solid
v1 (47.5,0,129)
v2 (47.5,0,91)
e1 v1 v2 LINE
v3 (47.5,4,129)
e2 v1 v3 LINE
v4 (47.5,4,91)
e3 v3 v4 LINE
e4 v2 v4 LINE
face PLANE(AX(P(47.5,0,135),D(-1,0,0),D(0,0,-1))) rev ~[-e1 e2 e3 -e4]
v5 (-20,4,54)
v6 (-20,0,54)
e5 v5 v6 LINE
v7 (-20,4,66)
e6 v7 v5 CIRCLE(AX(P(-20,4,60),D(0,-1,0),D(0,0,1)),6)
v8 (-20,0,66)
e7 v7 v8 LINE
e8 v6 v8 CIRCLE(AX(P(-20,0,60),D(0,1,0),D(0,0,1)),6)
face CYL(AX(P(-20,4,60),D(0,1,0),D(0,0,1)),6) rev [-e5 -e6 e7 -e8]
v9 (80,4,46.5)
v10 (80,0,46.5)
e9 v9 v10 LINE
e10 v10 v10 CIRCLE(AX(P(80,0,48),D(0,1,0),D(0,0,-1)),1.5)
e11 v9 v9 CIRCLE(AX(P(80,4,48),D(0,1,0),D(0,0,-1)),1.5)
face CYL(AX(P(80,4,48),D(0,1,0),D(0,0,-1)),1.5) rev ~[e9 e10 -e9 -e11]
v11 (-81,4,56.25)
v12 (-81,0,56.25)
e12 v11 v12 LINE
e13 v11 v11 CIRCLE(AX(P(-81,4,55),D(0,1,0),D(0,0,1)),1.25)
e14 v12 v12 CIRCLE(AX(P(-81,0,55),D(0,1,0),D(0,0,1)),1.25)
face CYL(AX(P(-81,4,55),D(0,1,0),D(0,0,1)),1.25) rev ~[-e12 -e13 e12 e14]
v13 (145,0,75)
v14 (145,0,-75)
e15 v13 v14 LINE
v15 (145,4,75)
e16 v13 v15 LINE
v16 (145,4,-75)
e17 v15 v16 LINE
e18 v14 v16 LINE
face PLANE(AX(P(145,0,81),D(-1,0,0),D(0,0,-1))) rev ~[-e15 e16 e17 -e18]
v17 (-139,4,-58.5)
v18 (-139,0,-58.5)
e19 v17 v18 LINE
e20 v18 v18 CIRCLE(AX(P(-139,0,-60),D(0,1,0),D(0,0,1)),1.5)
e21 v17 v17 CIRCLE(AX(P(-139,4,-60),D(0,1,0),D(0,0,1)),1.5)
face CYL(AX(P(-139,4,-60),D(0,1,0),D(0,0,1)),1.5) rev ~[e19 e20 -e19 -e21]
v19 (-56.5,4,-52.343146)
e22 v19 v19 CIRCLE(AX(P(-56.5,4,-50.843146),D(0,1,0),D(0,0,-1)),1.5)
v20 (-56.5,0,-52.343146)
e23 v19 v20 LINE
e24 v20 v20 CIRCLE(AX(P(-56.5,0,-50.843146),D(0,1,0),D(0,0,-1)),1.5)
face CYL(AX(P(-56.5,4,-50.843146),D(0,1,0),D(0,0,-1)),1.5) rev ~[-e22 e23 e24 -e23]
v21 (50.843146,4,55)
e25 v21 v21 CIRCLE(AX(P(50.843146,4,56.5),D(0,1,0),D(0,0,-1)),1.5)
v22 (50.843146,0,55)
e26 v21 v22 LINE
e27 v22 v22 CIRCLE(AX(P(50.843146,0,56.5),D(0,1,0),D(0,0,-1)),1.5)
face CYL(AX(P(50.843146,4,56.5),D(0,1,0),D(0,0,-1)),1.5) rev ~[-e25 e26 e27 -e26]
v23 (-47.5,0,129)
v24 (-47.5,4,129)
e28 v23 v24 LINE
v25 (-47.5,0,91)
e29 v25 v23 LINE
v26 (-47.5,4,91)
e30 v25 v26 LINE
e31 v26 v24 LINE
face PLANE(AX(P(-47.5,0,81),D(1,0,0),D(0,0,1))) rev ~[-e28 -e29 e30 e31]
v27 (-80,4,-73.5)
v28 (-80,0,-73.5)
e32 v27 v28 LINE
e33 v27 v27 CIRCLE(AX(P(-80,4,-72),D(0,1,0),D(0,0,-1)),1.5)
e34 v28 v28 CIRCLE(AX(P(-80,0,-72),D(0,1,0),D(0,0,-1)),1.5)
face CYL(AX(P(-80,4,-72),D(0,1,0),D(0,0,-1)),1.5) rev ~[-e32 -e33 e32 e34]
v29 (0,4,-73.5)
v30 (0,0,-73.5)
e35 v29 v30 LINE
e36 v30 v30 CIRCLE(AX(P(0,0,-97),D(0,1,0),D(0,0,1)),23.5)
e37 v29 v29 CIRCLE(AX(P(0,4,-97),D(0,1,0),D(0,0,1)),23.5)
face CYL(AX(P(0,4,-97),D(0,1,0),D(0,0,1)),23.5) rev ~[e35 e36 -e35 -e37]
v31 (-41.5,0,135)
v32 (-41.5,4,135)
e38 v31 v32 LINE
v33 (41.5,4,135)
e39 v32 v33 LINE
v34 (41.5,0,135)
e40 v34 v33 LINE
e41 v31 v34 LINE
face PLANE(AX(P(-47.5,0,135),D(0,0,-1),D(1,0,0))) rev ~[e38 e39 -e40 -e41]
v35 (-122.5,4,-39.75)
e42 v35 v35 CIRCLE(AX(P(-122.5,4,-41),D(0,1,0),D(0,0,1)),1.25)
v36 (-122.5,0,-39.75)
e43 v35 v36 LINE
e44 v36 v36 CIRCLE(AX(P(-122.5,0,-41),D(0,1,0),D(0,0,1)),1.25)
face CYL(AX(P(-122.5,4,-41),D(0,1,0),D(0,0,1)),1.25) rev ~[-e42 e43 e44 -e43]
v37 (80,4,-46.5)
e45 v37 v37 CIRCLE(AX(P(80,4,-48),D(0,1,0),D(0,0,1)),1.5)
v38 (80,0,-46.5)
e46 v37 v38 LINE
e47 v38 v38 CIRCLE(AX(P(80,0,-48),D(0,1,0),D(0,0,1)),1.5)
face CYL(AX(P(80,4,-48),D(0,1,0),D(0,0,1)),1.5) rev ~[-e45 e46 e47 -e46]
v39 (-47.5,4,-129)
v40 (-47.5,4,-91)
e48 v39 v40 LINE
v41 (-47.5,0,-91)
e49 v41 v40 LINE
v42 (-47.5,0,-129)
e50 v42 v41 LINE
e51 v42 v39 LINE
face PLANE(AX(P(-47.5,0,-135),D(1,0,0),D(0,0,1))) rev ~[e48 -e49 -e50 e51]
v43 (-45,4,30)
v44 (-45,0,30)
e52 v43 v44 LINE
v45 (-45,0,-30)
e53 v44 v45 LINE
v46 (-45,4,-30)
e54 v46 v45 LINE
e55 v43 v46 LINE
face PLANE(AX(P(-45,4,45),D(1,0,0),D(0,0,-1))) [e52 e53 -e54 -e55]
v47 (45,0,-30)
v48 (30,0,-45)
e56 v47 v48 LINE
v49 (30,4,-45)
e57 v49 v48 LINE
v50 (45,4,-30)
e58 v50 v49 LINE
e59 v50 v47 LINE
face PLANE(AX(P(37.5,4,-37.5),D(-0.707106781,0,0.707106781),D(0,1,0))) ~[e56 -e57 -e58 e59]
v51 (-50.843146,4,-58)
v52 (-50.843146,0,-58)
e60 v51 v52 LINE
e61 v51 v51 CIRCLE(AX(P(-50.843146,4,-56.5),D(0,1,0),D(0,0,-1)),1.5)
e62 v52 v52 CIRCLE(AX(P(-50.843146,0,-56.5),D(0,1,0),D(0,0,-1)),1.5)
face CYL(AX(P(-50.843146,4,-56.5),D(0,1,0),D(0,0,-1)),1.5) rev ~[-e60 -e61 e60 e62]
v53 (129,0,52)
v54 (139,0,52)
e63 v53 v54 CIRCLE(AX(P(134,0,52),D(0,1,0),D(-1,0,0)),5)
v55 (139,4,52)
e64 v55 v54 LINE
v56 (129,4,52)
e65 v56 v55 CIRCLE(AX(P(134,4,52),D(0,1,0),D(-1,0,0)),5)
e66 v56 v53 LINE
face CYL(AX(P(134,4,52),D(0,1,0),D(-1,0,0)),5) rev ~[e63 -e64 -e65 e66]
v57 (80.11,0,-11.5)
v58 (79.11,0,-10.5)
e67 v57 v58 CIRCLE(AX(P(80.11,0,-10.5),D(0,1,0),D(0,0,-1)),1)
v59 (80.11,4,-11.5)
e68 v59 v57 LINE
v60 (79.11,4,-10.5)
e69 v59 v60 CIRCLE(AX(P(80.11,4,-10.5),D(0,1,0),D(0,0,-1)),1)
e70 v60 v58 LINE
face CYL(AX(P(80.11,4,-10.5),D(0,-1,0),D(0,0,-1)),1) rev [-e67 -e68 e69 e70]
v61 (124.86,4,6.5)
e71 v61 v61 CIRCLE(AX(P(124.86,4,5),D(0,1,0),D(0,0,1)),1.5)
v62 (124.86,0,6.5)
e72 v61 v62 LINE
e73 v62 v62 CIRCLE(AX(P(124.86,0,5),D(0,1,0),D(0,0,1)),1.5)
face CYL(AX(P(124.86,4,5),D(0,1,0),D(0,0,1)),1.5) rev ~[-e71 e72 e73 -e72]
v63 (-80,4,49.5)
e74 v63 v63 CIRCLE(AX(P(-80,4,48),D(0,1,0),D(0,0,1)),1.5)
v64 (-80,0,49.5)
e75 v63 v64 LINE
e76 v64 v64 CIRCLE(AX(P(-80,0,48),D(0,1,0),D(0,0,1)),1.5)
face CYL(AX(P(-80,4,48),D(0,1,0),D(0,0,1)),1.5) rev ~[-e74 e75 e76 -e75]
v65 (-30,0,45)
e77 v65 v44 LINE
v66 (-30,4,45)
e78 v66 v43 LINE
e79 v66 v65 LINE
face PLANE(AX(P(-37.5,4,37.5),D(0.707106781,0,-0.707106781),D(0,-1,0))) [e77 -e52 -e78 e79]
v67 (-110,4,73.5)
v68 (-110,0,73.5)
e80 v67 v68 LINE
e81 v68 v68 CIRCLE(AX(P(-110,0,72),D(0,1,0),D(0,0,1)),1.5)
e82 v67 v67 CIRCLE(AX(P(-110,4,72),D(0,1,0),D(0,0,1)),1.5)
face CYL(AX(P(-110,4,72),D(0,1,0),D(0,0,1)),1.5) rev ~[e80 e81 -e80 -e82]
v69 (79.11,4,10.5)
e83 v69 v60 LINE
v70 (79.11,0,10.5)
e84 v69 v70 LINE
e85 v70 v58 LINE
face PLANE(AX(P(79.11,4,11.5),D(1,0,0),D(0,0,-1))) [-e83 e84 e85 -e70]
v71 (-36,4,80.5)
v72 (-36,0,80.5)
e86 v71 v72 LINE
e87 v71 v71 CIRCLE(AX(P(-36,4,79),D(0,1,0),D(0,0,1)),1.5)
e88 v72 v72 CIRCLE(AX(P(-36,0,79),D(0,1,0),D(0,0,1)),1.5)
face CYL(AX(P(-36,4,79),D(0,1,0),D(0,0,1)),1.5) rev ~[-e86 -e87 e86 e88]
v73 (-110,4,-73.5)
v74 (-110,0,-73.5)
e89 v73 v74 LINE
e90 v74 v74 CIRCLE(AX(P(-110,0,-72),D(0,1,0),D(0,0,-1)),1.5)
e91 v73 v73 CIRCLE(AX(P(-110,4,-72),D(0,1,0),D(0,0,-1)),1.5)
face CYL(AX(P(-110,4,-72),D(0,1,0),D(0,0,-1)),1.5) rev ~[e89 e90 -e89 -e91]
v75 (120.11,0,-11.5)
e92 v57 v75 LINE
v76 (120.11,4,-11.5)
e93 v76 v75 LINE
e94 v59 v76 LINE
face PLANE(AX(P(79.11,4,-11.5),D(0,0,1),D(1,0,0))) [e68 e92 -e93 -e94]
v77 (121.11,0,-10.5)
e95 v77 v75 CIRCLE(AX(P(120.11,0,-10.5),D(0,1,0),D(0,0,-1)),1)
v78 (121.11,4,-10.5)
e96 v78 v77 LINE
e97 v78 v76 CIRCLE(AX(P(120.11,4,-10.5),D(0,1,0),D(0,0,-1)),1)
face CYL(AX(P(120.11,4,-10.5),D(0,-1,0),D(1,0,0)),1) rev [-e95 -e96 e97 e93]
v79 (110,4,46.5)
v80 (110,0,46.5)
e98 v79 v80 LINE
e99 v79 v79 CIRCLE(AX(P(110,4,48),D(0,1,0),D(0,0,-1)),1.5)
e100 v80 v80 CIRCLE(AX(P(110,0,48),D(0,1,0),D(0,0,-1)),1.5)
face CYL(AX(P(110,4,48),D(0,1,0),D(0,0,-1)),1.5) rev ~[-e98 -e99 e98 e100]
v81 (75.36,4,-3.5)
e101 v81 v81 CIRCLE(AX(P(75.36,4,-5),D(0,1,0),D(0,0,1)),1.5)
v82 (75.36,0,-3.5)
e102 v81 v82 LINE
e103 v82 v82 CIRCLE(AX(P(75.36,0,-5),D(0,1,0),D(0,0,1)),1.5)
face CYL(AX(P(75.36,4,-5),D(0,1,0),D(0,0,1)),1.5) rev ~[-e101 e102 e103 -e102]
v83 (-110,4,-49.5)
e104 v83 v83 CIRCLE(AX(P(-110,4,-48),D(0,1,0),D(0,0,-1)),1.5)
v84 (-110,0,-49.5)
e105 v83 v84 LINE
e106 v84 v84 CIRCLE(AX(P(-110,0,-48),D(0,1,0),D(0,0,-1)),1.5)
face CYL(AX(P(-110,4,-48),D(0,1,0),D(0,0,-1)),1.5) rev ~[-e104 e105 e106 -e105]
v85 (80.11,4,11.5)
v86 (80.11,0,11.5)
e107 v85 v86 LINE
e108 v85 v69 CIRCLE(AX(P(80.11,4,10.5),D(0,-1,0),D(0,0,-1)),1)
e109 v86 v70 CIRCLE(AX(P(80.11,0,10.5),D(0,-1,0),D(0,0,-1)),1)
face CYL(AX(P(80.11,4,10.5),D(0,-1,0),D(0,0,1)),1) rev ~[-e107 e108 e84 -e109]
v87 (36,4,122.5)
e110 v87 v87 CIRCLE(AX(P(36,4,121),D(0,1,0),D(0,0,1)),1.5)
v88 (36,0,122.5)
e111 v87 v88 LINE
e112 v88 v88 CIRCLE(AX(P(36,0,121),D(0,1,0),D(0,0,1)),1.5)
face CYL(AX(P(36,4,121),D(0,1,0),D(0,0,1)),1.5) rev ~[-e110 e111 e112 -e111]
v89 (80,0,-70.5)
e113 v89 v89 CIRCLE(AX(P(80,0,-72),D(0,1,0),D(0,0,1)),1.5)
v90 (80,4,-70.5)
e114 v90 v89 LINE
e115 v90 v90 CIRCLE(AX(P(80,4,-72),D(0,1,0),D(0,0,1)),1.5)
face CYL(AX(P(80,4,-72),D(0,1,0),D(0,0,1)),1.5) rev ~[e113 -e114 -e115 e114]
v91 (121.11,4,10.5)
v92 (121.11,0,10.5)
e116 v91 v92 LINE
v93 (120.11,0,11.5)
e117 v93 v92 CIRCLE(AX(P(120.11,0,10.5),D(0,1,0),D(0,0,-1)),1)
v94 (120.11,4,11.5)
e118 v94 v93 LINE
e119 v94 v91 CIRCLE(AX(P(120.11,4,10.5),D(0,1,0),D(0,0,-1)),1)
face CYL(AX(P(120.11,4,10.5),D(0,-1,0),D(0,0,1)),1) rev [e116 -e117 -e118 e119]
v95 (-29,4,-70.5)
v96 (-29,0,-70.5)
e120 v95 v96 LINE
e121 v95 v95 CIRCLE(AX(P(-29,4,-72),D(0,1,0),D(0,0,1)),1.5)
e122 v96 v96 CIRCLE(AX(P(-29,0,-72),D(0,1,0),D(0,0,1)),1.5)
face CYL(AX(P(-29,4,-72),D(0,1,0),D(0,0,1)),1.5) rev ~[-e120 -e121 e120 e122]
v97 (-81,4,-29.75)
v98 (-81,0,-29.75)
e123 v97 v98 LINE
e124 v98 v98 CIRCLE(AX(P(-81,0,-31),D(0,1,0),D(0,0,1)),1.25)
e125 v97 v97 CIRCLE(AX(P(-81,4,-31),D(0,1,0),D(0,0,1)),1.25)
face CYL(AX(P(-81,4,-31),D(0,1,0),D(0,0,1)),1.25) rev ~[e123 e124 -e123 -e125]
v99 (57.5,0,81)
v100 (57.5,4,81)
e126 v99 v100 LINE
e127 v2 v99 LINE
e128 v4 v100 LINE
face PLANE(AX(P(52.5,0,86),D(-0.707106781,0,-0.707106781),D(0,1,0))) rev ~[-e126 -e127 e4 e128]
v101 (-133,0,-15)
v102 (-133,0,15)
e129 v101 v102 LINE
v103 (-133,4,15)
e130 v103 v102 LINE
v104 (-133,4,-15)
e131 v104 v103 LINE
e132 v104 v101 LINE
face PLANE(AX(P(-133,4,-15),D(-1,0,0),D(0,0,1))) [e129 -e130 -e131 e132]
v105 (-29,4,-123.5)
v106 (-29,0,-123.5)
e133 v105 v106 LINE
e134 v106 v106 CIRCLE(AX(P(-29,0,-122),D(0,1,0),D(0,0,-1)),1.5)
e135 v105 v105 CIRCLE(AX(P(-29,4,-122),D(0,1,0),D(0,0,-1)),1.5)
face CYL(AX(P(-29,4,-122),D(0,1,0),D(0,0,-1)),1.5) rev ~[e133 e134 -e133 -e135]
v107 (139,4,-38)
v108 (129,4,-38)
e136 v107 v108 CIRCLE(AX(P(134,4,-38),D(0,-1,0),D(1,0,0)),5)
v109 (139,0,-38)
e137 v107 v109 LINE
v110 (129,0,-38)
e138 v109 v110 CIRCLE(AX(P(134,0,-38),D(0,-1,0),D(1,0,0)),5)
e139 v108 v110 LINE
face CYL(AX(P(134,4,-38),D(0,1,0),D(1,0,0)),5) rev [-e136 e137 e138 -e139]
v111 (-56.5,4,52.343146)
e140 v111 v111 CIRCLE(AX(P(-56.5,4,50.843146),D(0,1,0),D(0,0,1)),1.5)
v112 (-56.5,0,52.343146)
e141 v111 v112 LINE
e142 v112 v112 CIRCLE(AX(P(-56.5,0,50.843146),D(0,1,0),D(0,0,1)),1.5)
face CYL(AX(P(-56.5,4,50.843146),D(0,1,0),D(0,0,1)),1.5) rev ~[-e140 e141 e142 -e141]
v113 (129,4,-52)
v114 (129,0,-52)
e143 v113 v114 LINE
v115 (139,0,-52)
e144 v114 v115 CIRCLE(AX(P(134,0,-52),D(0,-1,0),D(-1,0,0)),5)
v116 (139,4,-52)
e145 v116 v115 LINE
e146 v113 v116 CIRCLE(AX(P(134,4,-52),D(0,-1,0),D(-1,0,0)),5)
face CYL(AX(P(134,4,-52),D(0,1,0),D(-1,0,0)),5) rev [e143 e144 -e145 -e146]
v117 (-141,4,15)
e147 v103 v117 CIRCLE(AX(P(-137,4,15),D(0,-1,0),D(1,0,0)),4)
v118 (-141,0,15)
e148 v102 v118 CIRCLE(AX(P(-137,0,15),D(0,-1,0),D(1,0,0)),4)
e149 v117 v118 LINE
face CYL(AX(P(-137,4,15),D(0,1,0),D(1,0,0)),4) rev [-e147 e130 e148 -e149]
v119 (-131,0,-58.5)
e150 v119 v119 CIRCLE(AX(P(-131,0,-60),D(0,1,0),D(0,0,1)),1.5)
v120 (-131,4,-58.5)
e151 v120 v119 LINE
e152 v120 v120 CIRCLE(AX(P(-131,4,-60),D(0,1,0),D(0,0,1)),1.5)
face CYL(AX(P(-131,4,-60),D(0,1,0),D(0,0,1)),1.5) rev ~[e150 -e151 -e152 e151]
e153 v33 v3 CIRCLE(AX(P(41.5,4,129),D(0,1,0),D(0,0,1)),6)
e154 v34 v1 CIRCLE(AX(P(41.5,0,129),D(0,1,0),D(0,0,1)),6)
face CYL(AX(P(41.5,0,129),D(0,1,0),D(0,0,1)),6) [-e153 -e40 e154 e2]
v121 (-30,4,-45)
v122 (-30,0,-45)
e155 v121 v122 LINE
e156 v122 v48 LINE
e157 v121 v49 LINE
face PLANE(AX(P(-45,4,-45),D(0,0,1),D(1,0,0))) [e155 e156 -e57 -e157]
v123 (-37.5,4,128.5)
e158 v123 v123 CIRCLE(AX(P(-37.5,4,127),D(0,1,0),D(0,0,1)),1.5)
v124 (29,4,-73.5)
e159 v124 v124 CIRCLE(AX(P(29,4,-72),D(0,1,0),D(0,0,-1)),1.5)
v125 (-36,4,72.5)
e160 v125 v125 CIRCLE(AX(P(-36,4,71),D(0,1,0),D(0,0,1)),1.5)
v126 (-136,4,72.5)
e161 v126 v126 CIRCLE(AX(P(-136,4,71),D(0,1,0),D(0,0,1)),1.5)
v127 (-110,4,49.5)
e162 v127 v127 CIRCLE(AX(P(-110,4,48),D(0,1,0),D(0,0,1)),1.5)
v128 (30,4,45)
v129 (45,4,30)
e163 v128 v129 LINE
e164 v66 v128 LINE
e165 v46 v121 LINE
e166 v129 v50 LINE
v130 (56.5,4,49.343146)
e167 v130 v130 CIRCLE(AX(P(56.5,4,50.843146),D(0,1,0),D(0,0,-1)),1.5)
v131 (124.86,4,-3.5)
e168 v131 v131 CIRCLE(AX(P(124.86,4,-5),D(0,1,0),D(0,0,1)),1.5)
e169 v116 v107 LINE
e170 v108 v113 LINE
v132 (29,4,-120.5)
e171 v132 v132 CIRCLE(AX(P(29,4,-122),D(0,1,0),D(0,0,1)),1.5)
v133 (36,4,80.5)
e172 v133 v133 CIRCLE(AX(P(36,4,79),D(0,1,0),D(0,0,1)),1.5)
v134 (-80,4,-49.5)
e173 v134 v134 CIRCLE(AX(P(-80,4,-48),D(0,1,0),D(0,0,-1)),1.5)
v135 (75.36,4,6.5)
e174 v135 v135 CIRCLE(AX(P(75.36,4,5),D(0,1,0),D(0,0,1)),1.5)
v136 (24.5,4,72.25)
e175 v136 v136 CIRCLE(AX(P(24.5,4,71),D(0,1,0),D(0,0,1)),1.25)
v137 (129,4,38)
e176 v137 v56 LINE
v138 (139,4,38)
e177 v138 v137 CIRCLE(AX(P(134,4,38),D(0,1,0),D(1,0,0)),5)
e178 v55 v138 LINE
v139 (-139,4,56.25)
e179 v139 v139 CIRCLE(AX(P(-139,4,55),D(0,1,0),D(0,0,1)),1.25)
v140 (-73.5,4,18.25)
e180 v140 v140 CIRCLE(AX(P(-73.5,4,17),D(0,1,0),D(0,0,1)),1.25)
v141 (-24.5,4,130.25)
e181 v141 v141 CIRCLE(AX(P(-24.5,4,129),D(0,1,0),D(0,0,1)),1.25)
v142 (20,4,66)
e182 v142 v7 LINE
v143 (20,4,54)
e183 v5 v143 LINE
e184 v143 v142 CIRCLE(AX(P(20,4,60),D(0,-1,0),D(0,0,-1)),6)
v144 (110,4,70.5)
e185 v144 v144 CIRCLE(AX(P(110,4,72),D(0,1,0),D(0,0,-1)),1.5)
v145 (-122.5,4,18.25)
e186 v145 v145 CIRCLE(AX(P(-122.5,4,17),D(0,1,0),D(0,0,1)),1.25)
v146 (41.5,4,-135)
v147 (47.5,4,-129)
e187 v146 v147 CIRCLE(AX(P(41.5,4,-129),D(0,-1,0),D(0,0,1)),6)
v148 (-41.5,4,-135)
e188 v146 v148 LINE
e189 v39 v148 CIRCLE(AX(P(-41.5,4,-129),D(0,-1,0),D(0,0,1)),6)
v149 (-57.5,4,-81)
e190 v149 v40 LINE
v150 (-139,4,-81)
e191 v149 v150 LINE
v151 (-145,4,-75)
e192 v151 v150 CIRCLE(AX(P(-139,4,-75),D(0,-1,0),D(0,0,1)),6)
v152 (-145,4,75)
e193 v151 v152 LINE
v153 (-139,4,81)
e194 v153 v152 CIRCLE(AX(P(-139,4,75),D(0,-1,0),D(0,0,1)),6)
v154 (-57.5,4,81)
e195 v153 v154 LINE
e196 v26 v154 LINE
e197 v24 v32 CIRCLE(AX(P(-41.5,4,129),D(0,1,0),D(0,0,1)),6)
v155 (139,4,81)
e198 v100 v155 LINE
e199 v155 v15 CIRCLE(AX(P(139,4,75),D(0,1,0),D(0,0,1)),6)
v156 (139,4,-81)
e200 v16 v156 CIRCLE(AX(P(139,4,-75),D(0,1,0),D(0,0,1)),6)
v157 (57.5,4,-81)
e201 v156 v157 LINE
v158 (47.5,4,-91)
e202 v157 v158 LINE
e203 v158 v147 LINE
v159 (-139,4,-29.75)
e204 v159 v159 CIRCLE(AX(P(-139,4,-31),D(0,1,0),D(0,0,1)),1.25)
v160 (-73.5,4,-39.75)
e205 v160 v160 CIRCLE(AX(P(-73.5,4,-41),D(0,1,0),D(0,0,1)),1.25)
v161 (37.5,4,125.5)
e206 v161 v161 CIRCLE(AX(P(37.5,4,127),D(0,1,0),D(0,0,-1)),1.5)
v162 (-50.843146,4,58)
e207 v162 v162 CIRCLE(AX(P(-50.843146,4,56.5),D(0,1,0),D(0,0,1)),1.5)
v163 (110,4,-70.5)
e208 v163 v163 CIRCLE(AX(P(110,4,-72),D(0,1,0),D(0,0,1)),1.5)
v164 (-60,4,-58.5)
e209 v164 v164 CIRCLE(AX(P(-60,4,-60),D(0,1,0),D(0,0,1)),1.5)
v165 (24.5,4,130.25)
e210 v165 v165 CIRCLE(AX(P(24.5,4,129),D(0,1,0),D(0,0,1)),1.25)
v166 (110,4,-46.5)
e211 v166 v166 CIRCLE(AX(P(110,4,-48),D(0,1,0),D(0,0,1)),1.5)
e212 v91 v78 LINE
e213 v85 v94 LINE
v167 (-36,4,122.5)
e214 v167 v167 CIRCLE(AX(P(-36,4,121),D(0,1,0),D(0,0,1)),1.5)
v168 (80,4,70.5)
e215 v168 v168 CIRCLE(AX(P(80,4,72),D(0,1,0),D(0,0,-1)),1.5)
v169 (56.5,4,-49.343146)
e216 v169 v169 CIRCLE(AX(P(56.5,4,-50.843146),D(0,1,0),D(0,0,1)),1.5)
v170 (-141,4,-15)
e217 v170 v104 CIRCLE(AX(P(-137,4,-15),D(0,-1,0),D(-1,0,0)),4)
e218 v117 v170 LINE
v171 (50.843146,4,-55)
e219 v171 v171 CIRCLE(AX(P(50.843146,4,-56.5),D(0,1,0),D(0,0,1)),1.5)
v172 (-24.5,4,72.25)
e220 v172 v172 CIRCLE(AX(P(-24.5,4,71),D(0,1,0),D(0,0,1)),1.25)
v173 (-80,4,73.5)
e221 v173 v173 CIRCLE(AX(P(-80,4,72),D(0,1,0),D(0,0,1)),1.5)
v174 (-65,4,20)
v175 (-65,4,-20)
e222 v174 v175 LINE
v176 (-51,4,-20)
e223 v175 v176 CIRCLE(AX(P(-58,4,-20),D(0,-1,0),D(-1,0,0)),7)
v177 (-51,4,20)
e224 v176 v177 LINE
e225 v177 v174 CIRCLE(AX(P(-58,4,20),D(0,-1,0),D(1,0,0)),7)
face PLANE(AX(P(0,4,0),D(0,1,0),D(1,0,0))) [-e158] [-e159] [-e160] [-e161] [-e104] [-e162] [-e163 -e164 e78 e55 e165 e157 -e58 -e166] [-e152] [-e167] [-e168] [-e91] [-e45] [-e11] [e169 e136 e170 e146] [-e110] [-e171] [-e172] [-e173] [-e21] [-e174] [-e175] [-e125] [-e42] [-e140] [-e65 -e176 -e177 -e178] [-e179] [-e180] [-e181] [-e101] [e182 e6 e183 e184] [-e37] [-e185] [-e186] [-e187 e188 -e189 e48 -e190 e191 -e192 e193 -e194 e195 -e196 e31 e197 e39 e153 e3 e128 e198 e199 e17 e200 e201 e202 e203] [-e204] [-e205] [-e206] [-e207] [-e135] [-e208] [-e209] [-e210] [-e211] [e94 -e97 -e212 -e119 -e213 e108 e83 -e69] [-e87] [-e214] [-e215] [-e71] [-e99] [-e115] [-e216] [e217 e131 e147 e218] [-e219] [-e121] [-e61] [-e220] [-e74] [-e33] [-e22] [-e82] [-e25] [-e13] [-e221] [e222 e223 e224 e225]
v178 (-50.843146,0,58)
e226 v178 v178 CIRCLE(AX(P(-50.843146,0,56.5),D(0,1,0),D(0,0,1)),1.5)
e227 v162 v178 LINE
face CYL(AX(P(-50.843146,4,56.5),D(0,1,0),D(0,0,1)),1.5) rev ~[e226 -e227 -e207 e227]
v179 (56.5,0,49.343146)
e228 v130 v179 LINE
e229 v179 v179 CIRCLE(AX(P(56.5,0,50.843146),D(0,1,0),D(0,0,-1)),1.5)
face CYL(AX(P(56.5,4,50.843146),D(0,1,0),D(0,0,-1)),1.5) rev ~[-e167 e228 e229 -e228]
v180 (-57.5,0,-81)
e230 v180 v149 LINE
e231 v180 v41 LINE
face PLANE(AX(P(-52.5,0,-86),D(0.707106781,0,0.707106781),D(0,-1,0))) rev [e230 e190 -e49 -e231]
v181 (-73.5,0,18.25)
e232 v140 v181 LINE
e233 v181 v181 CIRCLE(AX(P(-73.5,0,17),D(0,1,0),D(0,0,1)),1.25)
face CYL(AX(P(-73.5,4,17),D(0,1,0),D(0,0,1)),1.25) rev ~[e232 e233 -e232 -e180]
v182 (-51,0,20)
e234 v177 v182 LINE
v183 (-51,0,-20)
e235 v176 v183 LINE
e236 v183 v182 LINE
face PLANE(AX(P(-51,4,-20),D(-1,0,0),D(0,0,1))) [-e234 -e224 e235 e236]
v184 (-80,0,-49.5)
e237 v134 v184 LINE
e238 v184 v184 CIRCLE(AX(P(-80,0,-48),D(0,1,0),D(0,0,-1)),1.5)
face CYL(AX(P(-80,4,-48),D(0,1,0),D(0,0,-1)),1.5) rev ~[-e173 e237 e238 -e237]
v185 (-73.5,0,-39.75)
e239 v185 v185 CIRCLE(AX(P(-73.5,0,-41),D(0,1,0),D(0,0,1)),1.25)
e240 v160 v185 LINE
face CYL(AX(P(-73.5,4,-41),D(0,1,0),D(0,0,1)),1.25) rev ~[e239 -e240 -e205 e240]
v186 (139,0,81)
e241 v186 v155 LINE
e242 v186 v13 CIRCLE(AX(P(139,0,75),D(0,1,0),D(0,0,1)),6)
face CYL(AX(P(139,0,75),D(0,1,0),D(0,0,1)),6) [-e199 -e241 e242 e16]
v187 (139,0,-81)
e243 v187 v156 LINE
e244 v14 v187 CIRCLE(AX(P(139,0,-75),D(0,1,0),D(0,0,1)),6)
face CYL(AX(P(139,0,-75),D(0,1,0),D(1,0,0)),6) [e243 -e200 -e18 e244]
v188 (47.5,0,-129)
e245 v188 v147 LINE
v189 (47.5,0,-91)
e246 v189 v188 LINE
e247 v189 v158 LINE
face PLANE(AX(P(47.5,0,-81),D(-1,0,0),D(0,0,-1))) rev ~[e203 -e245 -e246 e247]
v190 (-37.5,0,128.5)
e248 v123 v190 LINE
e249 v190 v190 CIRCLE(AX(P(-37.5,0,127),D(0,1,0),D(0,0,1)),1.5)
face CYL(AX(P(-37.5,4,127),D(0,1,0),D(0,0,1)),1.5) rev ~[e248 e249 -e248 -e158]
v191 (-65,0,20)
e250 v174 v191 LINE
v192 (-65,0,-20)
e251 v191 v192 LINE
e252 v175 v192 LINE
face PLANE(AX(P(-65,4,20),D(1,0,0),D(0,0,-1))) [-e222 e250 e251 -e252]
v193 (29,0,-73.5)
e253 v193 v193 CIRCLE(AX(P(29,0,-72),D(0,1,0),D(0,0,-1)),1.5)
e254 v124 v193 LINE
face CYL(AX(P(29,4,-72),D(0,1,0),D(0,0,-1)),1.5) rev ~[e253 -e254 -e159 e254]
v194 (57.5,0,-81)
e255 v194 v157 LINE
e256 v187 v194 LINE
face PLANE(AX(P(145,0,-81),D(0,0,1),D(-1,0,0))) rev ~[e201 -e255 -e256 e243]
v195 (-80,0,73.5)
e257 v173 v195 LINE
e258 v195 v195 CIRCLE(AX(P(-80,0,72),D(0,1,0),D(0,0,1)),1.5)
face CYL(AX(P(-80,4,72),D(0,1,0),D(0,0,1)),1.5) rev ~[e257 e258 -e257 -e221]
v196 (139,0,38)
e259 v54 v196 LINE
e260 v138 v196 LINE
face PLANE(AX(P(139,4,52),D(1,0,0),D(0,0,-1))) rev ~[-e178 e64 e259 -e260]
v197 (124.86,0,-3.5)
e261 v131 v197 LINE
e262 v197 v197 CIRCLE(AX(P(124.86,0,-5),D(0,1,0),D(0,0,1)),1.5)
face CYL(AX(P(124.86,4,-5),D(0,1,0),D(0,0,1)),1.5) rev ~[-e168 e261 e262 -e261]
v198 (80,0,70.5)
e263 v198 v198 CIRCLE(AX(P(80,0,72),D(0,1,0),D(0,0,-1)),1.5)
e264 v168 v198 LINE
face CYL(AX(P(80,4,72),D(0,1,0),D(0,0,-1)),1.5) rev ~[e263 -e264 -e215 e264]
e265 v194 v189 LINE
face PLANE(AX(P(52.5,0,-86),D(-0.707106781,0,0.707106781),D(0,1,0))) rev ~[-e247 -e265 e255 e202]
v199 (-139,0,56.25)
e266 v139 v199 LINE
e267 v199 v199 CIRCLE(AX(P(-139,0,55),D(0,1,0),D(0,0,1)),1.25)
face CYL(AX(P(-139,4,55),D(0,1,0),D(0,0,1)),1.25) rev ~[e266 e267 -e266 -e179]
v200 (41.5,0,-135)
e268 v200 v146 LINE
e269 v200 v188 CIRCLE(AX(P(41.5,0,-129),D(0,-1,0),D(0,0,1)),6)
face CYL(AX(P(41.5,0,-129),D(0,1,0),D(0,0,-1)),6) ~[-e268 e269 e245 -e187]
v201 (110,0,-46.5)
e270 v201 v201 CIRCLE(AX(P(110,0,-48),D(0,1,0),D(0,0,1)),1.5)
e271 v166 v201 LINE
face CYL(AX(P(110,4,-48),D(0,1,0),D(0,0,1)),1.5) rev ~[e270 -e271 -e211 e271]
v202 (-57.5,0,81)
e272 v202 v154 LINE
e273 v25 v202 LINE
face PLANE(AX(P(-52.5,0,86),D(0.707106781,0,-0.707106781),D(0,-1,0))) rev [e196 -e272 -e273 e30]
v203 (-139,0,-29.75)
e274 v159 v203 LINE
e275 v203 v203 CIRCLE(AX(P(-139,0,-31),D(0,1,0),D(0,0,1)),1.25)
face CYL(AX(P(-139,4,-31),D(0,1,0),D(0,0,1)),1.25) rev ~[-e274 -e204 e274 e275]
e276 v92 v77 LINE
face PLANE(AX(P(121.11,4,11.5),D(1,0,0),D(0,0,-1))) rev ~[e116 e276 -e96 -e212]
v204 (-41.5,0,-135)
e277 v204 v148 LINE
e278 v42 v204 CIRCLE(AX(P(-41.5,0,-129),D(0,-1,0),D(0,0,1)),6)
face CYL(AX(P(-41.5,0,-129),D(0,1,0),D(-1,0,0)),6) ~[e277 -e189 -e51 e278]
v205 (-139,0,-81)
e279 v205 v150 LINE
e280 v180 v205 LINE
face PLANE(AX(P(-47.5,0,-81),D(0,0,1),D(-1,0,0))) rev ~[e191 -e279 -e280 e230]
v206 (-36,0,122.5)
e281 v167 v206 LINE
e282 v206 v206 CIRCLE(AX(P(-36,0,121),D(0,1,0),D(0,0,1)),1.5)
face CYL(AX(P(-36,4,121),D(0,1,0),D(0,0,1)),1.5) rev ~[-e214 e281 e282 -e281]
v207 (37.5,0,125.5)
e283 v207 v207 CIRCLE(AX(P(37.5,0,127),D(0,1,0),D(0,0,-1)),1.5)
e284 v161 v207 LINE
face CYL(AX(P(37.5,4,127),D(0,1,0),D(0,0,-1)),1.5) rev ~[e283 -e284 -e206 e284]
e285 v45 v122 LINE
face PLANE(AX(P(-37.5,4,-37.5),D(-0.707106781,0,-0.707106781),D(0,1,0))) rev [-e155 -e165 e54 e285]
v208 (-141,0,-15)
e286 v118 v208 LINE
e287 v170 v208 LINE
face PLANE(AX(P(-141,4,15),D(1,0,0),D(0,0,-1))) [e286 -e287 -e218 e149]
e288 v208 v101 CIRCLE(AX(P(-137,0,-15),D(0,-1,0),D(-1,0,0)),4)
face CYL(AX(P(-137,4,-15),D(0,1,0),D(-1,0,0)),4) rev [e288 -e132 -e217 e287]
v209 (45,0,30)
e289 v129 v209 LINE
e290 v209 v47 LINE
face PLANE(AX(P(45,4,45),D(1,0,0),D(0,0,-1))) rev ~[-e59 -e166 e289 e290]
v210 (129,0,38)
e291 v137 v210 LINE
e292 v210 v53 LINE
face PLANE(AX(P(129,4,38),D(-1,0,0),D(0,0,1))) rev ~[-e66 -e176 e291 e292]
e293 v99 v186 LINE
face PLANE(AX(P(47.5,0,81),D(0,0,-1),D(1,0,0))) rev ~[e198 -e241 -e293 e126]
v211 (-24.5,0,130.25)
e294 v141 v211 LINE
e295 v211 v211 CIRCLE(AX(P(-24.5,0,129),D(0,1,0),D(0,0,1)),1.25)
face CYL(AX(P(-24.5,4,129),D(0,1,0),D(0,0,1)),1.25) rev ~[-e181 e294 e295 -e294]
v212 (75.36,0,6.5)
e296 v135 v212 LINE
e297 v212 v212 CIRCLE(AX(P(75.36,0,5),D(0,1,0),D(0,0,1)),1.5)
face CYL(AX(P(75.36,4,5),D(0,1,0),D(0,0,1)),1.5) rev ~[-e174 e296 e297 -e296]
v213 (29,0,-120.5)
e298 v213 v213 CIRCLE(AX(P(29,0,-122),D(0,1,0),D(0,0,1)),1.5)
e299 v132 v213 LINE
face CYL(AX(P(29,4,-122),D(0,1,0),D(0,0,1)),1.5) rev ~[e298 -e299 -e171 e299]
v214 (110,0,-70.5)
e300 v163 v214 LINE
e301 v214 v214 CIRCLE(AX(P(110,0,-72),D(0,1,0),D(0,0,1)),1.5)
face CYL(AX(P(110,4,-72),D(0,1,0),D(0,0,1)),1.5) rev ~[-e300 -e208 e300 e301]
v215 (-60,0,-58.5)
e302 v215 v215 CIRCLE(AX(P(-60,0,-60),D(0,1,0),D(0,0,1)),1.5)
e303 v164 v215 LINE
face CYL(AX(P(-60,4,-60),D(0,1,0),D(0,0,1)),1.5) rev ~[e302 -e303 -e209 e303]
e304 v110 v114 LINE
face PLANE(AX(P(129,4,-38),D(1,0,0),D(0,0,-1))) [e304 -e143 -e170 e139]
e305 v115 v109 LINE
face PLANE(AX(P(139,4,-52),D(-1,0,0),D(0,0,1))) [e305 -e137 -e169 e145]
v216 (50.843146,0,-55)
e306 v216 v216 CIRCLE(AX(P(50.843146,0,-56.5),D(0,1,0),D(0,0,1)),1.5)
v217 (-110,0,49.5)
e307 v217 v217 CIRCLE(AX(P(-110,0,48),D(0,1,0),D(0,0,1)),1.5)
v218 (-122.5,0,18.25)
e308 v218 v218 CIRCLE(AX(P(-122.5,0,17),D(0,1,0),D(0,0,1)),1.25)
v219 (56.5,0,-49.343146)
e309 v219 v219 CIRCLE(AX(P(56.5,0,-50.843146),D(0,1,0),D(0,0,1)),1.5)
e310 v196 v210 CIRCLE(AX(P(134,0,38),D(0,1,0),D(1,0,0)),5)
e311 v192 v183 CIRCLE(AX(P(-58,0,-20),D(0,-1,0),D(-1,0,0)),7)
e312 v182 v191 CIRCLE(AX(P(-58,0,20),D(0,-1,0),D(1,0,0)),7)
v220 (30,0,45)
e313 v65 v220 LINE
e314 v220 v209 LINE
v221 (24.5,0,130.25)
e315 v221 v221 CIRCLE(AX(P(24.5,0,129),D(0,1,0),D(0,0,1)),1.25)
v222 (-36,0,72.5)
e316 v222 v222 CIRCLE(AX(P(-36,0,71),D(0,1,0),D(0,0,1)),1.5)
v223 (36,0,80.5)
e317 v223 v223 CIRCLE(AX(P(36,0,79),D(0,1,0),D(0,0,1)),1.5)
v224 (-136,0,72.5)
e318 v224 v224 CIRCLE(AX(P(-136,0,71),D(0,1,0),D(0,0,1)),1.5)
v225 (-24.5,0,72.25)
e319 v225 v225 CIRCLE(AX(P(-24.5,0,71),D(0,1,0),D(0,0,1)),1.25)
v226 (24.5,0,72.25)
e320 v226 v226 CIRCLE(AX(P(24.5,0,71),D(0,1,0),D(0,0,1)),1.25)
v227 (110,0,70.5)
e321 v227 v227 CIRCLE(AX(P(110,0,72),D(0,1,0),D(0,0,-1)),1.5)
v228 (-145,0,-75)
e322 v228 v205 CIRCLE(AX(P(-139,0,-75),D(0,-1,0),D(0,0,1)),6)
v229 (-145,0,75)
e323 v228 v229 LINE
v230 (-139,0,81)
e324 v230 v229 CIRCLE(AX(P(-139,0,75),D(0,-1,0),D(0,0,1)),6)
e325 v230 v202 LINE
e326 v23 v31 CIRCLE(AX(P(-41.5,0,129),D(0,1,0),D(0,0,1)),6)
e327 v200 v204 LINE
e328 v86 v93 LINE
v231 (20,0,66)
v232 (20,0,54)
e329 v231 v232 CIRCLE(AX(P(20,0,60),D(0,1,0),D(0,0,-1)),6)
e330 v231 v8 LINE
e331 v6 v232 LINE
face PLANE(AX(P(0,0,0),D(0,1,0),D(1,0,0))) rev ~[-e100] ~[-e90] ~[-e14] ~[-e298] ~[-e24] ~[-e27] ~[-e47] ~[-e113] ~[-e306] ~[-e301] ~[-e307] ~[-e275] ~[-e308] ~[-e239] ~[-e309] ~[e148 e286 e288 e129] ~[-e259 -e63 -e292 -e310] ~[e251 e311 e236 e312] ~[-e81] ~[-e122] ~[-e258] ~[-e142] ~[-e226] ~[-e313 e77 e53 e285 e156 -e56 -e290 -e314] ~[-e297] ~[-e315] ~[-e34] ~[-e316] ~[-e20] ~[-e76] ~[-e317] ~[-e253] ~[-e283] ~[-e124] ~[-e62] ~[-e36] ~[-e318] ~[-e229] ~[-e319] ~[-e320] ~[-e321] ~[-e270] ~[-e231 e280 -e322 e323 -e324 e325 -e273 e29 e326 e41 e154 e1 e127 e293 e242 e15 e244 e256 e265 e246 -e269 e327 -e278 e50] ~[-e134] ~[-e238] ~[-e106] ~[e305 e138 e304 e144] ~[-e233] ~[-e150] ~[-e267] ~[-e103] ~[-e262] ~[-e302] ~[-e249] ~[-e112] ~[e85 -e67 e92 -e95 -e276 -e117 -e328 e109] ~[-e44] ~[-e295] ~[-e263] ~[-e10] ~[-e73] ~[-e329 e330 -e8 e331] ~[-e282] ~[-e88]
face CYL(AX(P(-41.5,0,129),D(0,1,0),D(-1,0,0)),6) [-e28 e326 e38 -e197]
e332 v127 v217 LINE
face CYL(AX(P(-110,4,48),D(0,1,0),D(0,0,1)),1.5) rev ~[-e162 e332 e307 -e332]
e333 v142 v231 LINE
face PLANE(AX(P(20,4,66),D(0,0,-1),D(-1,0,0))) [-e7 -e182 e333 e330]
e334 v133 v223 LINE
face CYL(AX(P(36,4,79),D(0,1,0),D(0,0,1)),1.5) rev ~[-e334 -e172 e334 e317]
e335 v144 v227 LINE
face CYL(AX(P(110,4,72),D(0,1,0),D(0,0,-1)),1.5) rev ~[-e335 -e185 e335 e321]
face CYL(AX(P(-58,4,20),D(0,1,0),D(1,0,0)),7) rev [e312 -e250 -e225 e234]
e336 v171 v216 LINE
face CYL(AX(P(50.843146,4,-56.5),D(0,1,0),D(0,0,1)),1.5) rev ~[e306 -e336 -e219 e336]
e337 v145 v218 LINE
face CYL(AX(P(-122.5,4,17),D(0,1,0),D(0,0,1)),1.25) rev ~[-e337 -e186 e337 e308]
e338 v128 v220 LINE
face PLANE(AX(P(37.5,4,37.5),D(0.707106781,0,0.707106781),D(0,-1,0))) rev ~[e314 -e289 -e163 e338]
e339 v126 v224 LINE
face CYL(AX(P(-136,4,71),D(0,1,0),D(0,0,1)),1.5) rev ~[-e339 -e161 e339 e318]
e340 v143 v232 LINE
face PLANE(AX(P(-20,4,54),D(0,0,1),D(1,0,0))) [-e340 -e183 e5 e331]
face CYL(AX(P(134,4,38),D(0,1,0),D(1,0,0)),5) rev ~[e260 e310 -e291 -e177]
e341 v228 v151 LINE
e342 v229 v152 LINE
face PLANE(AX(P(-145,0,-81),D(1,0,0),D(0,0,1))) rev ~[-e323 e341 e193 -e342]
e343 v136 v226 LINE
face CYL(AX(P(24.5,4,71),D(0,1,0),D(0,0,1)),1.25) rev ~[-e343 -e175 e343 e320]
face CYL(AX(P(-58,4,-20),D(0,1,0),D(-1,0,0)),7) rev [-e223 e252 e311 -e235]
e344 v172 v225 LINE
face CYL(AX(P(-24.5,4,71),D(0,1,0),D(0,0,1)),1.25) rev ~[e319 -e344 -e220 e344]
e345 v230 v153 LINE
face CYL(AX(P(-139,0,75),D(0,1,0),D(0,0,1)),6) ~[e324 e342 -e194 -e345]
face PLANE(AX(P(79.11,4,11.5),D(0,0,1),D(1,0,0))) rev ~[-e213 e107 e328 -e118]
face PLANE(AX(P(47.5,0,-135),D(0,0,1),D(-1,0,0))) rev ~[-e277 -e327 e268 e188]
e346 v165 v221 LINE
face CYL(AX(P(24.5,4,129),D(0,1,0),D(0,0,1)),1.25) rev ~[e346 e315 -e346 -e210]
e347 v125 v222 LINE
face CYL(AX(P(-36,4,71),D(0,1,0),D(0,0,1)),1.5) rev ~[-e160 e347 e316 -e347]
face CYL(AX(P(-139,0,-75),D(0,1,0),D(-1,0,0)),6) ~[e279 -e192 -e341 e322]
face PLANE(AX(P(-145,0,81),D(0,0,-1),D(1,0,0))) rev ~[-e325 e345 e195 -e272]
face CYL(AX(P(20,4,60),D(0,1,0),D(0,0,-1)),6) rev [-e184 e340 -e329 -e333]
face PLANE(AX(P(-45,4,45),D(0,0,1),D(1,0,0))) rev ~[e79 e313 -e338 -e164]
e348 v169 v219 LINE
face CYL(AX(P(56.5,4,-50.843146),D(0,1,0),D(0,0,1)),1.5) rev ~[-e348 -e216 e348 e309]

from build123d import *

# Parameters (mm, degrees)
EXTRUDE_1_DEPTH      = 4
SKETCH_2_R           = 1.5
CUT_EXTRUDE_1_DEPTH  = 4
SKETCH_3_R           = 23.5
SKETCH_3_R_2         = 1.5
CUT_EXTRUDE_2_DEPTH  = 4
SKETCH_4_W           = 90
SKETCH_4_H           = 90
CUT_EXTRUDE_3_DEPTH  = 4
FILLET_3_R           = 6
CHAMFER_1_SIZE       = 10
CUT_EXTRUDE_6_DEPTH  = 4
CHAMFER_2_SIZE       = 15
SKETCH_8_R           = 1.5
CUT_EXTRUDE_7_DEPTH  = 4
SKETCH_9_R           = 1.5
CUT_EXTRUDE_8_DEPTH  = 4
CUT_EXTRUDE_9_DEPTH  = 10
SKETCH_14_R          = 1.5
SKETCH_14_R_2        = 1.25
CUT_EXTRUDE_10_DEPTH = 10
SKETCH_15_R          = 1.5
SKETCH_15_W          = 42
SKETCH_15_H          = 23
CUT_EXTRUDE_11_DEPTH = 10
FILLET_4_R           = 1
SKETCH_16_R          = 1.25
CUT_EXTRUDE_12_DEPTH = 10
SKETCH_23_R          = 1.25
CUT_EXTRUDE_14_DEPTH = 10
SKETCH_24_R          = 1.5
CUT_EXTRUDE_15_DEPTH = 10
SKETCH_20_R          = 1.5
CUT_EXTRUDE_16_DEPTH = 10


with BuildPart() as part:
    # 草图1 → 凸台-拉伸1 (new body)
    with BuildSketch(Plane(origin=(0, 0, 0), x_dir=(1, 0, 0), z_dir=(0, 1, 0))):
        Polygon((-47.5, -81), (-47.5, -135), (47.5, -135), (47.5, -81), (145, -81), (145, 81), (47.5, 81), (47.5, 135), (-47.5, 135), (-47.5, 81), (-145, 81), (-145, -81), align=None)
    extrude(amount=EXTRUDE_1_DEPTH)

    # 草图2 → 切除-拉伸1 (cut)
    with BuildSketch(Plane(origin=(0, 4, 0), x_dir=(1, 0, 0), z_dir=(0, 1, 0))):
        with Locations(Location((110, 72, 0), (0, 0, 270))):
            Circle(SKETCH_2_R)
        with Locations(Location((80, 72, 0), (0, 0, 270))):
            Circle(SKETCH_2_R)
        with Locations(Location((80, 48, 0), (0, 0, 270))):
            Circle(SKETCH_2_R)
        with Locations(Location((110, 48, 0), (0, 0, 270))):
            Circle(SKETCH_2_R)
        with Locations(Location((110, -48, 0), (0, 0, 90))):
            Circle(SKETCH_2_R)
        with Locations(Location((110, -72, 0), (0, 0, 90))):
            Circle(SKETCH_2_R)
        with Locations(Location((80, -48, 0), (0, 0, 90))):
            Circle(SKETCH_2_R)
        with Locations(Location((80, -72, 0), (0, 0, 90))):
            Circle(SKETCH_2_R)
        with Locations(Location((-80, -72, 0), (0, 0, 270))):
            Circle(SKETCH_2_R)
        with Locations(Location((-80, -48, 0), (0, 0, 270))):
            Circle(SKETCH_2_R)
        with Locations(Location((-110, -72, 0), (0, 0, 270))):
            Circle(SKETCH_2_R)
        with Locations(Location((-110, -48, 0), (0, 0, 270))):
            Circle(SKETCH_2_R)
        with Locations(Location((-110, 48, 0), (0, 0, 90))):
            Circle(SKETCH_2_R)
        with Locations(Location((-80, 48, 0), (0, 0, 90))):
            Circle(SKETCH_2_R)
        with Locations(Location((-80, 72, 0), (0, 0, 90))):
            Circle(SKETCH_2_R)
        with Locations(Location((-110, 72, 0), (0, 0, 90))):
            Circle(SKETCH_2_R)
    extrude(amount=-CUT_EXTRUDE_1_DEPTH, mode=Mode.SUBTRACT)

    # 草图3 → 切除-拉伸2 (cut)
    with BuildSketch(Plane(origin=(0, 4, 0), x_dir=(1, 0, 0), z_dir=(0, 1, 0))):
        with Locations(Location((0, 97, 0), (0, 0, 270))):
            Circle(SKETCH_3_R)
        with Locations(Location((29, 122, 0), (0, 0, 270))):
            Circle(SKETCH_3_R_2)
        with Locations(Location((29, 72, 0), (0, 0, 90))):
            Circle(SKETCH_3_R_2)
        with Locations(Location((-29, 72, 0), (0, 0, 270))):
            Circle(SKETCH_3_R_2)
        with Locations(Location((-29, 122, 0), (0, 0, 90))):
            Circle(SKETCH_3_R_2)
    extrude(amount=-CUT_EXTRUDE_2_DEPTH, mode=Mode.SUBTRACT)

    # 草图4 → 切除-拉伸3 (cut)
    with BuildSketch(Plane(origin=(0, 4, 0), x_dir=(1, 0, 0), z_dir=(0, 1, 0))):
        Rectangle(SKETCH_4_W, SKETCH_4_H)
    extrude(amount=-CUT_EXTRUDE_3_DEPTH, mode=Mode.SUBTRACT)

    # 圆角3
    fillet_3_edges = [part.edges().sort_by_distance(p)[0] for p in [
        (-145, 2, 81),
        (-145, 2, -81),
        (-47.5, 2, -135),
        (47.5, 2, -135),
        (145, 2, -81),
        (145, 2, 81),
        (47.5, 2, 135),
        (-47.5, 2, 135),
    ]]
    fillet(fillet_3_edges, radius=FILLET_3_R)

    # 倒角1
    chamfer_1_edges = [part.edges().sort_by_distance(p)[0] for p in [
        (-47.5, 2, 81),
        (-47.5, 2, -81),
        (47.5, 2, -81),
        (47.5, 2, 81),
    ]]
    chamfer(chamfer_1_edges, length=CHAMFER_1_SIZE)

    # 草图7 → 切除-拉伸6 (cut)
    with BuildSketch(Plane(origin=(0, 4, 0), x_dir=(1, 0, 0), z_dir=(0, 1, 0))):
        with BuildLine():
            Line((-65, -20), (-65, 20))
            ThreePointArc((-65, 20), (-58, 27), (-51, 20))
            Line((-51, 20), (-51, -20))
            ThreePointArc((-51, -20), (-58, -27), (-65, -20))
        make_face()
        with BuildLine():
            Line((-141, -15), (-141, 15))
            ThreePointArc((-141, 15), (-137, 19), (-133, 15))
            Line((-133, 15), (-133, -15))
            ThreePointArc((-133, -15), (-137, -19), (-141, -15))
        make_face()
        with BuildLine():
            Line((129, 38), (129, 52))
            ThreePointArc((129, 52), (134, 57), (139, 52))
            Line((139, 52), (139, 38))
            ThreePointArc((139, 38), (134, 33), (129, 38))
        make_face()
        with BuildLine():
            Line((129, -38), (129, -52))
            ThreePointArc((129, -52), (134, -57), (139, -52))
            Line((139, -52), (139, -38))
            ThreePointArc((139, -38), (134, -33), (129, -38))
        make_face()
    extrude(amount=-CUT_EXTRUDE_6_DEPTH, mode=Mode.SUBTRACT)

    # 倒角2
    chamfer_2_edges = [part.edges().sort_by_distance(p)[0] for p in [
        (45, 2, -45),
        (45, 2, 45),
        (-45, 2, 45),
        (-45, 2, -45),
    ]]
    chamfer(chamfer_2_edges, length=CHAMFER_2_SIZE)

    # 草图8 → 切除-拉伸7 (cut)
    with BuildSketch(Plane(origin=(0, 4, 0), x_dir=(1, 0, 0), z_dir=(0, 1, 0))):
        with Locations(Location((-139, 60, 0), (0, 0, 270))):
            Circle(SKETCH_8_R)
        with Locations(Location((-131, 60, 0), (0, 0, 270))):
            Circle(SKETCH_8_R)
    extrude(amount=-CUT_EXTRUDE_7_DEPTH, mode=Mode.SUBTRACT)

    # 草图9 → 切除-拉伸8 (cut)
    with BuildSketch(Plane(origin=(0, 4, 0), x_dir=(1, 0, 0), z_dir=(0, 1, 0))):
        with Locations(Location((50.843145751, 56.5, 0), (0, 0, 270))):
            Circle(SKETCH_9_R)
        with Locations(Location((56.5, 50.843145751, 0), (0, 0, 270))):
            Circle(SKETCH_9_R)
        with Locations(Location((56.5, -50.843145751, 0), (0, 0, 90))):
            Circle(SKETCH_9_R)
        with Locations(Location((50.843145751, -56.5, 0), (0, 0, 90))):
            Circle(SKETCH_9_R)
        with Locations(Location((-50.843145751, -56.5, 0), (0, 0, 270))):
            Circle(SKETCH_9_R)
        with Locations(Location((-56.5, -50.843145751, 0), (0, 0, 270))):
            Circle(SKETCH_9_R)
        with Locations(Location((-56.5, 50.843145751, 0), (0, 0, 90))):
            Circle(SKETCH_9_R)
        with Locations(Location((-50.843145751, 56.5, 0), (0, 0, 90))):
            Circle(SKETCH_9_R)
        with Locations(Location((-37.5, -127, 0), (0, 0, 270))):
            Circle(SKETCH_9_R)
        with Locations(Location((37.5, -127, 0), (0, 0, 90))):
            Circle(SKETCH_9_R)
    extrude(amount=-CUT_EXTRUDE_8_DEPTH, mode=Mode.SUBTRACT)

    # 草图12 → 切除-拉伸9 (cut)
    with BuildSketch(Plane(origin=(0, 4, 0), x_dir=(1, 0, 0), z_dir=(0, 1, 0))):
        with BuildLine():
            Line((-20, -54), (20, -54))
            ThreePointArc((20, -54), (26, -60), (20, -66))
            Line((20, -66), (-20, -66))
            ThreePointArc((-20, -66), (-26, -60), (-20, -54))
        make_face()
    extrude(amount=-CUT_EXTRUDE_9_DEPTH, mode=Mode.SUBTRACT)

    # 草图14 → 切除-拉伸10 (cut)
    with BuildSketch(Plane(origin=(0, 4, 0), x_dir=(1, 0, 0), z_dir=(0, 1, 0))):
        with Locations(Location((36, -79, 0), (0, 0, 270))):
            Circle(SKETCH_14_R)
        with Locations(Location((36, -121, 0), (0, 0, 270))):
            Circle(SKETCH_14_R)
        with Locations(Location((-36, -121, 0), (0, 0, 270))):
            Circle(SKETCH_14_R)
        with Locations(Location((-36, -79, 0), (0, 0, 270))):
            Circle(SKETCH_14_R)
        with Locations(Location((-24.5, -71, 0), (0, 0, 270))):
            Circle(SKETCH_14_R_2)
        with Locations(Location((24.5, -71, 0), (0, 0, 270))):
            Circle(SKETCH_14_R_2)
        with Locations(Location((24.5, -129, 0), (0, 0, 270))):
            Circle(SKETCH_14_R_2)
        with Locations(Location((-24.5, -129, 0), (0, 0, 270))):
            Circle(SKETCH_14_R_2)
    extrude(amount=-CUT_EXTRUDE_10_DEPTH, mode=Mode.SUBTRACT)

    # 草图15 → 切除-拉伸11 (cut)
    with BuildSketch(Plane(origin=(0, 4, 0), x_dir=(1, 0, 0), z_dir=(0, 1, 0))):
        with Locations(Location((75.36, 5, 0), (0, 0, 270))):
            Circle(SKETCH_15_R)
        with Locations(Location((75.36, -5, 0), (0, 0, 270))):
            Circle(SKETCH_15_R)
        with Locations(Location((124.86, -5, 0), (0, 0, 270))):
            Circle(SKETCH_15_R)
        with Locations(Location((124.86, 5, 0), (0, 0, 270))):
            Circle(SKETCH_15_R)
        with Locations((100.11, 0)):
            Rectangle(SKETCH_15_W, SKETCH_15_H)
    extrude(amount=-CUT_EXTRUDE_11_DEPTH, mode=Mode.SUBTRACT)

    # 圆角4
    fillet_4_edges = [part.edges().sort_by_distance(p)[0] for p in [
        (121.11, 2, -11.5),
        (121.11, 2, 11.5),
        (79.11, 2, 11.5),
        (79.11, 2, -11.5),
    ]]
    fillet(fillet_4_edges, radius=FILLET_4_R)

    # 草图16 → 切除-拉伸12 (cut)
    with BuildSketch(Plane(origin=(0, 4, 0), x_dir=(1, 0, 0), z_dir=(0, 1, 0))):
        with Locations(Location((-73.5, 41, 0), (0, 0, 270))):
            Circle(SKETCH_16_R)
        with Locations(Location((-122.5, 41, 0), (0, 0, 270))):
            Circle(SKETCH_16_R)
        with Locations(Location((-73.5, -17, 0), (0, 0, 270))):
            Circle(SKETCH_16_R)
        with Locations(Location((-122.5, -17, 0), (0, 0, 270))):
            Circle(SKETCH_16_R)
    extrude(amount=-CUT_EXTRUDE_12_DEPTH, mode=Mode.SUBTRACT)

    # 草图23 → 切除-拉伸14 (cut)
    with BuildSketch(Plane(origin=(0, 4, 0), x_dir=(1, 0, 0), z_dir=(0, 1, 0))):
        with Locations(Location((-81, 31, 0), (0, 0, 270))):
            Circle(SKETCH_23_R)
        with Locations(Location((-139, 31, 0), (0, 0, 270))):
            Circle(SKETCH_23_R)
        with Locations(Location((-81, -55, 0), (0, 0, 270))):
            Circle(SKETCH_23_R)
        with Locations(Location((-139, -55, 0), (0, 0, 270))):
            Circle(SKETCH_23_R)
    extrude(amount=-CUT_EXTRUDE_14_DEPTH, mode=Mode.SUBTRACT)

    # 草图24 → 切除-拉伸15 (cut)
    with BuildSketch(Plane(origin=(0, 4, 0), x_dir=(1, 0, 0), z_dir=(0, 1, 0))):
        with Locations(Location((-136, -71, 0), (0, 0, 270))):
            Circle(SKETCH_24_R)
        with Locations(Location((-36, -71, 0), (0, 0, 270))):
            Circle(SKETCH_24_R)
        with Locations(Location((-36, -121, 0), (0, 0, 270))):
            Circle(SKETCH_24_R)
    extrude(amount=-CUT_EXTRUDE_15_DEPTH, mode=Mode.SUBTRACT)

    # 草图20 → 切除-拉伸16 (cut)
    with BuildSketch(Plane(origin=(0, 4, 0), x_dir=(1, 0, 0), z_dir=(0, 1, 0))):
        with Locations(Location((-60, 60, 0), (0, 0, 270))):
            Circle(SKETCH_20_R)
    extrude(amount=-CUT_EXTRUDE_16_DEPTH, mode=Mode.SUBTRACT)


solid = part.part
